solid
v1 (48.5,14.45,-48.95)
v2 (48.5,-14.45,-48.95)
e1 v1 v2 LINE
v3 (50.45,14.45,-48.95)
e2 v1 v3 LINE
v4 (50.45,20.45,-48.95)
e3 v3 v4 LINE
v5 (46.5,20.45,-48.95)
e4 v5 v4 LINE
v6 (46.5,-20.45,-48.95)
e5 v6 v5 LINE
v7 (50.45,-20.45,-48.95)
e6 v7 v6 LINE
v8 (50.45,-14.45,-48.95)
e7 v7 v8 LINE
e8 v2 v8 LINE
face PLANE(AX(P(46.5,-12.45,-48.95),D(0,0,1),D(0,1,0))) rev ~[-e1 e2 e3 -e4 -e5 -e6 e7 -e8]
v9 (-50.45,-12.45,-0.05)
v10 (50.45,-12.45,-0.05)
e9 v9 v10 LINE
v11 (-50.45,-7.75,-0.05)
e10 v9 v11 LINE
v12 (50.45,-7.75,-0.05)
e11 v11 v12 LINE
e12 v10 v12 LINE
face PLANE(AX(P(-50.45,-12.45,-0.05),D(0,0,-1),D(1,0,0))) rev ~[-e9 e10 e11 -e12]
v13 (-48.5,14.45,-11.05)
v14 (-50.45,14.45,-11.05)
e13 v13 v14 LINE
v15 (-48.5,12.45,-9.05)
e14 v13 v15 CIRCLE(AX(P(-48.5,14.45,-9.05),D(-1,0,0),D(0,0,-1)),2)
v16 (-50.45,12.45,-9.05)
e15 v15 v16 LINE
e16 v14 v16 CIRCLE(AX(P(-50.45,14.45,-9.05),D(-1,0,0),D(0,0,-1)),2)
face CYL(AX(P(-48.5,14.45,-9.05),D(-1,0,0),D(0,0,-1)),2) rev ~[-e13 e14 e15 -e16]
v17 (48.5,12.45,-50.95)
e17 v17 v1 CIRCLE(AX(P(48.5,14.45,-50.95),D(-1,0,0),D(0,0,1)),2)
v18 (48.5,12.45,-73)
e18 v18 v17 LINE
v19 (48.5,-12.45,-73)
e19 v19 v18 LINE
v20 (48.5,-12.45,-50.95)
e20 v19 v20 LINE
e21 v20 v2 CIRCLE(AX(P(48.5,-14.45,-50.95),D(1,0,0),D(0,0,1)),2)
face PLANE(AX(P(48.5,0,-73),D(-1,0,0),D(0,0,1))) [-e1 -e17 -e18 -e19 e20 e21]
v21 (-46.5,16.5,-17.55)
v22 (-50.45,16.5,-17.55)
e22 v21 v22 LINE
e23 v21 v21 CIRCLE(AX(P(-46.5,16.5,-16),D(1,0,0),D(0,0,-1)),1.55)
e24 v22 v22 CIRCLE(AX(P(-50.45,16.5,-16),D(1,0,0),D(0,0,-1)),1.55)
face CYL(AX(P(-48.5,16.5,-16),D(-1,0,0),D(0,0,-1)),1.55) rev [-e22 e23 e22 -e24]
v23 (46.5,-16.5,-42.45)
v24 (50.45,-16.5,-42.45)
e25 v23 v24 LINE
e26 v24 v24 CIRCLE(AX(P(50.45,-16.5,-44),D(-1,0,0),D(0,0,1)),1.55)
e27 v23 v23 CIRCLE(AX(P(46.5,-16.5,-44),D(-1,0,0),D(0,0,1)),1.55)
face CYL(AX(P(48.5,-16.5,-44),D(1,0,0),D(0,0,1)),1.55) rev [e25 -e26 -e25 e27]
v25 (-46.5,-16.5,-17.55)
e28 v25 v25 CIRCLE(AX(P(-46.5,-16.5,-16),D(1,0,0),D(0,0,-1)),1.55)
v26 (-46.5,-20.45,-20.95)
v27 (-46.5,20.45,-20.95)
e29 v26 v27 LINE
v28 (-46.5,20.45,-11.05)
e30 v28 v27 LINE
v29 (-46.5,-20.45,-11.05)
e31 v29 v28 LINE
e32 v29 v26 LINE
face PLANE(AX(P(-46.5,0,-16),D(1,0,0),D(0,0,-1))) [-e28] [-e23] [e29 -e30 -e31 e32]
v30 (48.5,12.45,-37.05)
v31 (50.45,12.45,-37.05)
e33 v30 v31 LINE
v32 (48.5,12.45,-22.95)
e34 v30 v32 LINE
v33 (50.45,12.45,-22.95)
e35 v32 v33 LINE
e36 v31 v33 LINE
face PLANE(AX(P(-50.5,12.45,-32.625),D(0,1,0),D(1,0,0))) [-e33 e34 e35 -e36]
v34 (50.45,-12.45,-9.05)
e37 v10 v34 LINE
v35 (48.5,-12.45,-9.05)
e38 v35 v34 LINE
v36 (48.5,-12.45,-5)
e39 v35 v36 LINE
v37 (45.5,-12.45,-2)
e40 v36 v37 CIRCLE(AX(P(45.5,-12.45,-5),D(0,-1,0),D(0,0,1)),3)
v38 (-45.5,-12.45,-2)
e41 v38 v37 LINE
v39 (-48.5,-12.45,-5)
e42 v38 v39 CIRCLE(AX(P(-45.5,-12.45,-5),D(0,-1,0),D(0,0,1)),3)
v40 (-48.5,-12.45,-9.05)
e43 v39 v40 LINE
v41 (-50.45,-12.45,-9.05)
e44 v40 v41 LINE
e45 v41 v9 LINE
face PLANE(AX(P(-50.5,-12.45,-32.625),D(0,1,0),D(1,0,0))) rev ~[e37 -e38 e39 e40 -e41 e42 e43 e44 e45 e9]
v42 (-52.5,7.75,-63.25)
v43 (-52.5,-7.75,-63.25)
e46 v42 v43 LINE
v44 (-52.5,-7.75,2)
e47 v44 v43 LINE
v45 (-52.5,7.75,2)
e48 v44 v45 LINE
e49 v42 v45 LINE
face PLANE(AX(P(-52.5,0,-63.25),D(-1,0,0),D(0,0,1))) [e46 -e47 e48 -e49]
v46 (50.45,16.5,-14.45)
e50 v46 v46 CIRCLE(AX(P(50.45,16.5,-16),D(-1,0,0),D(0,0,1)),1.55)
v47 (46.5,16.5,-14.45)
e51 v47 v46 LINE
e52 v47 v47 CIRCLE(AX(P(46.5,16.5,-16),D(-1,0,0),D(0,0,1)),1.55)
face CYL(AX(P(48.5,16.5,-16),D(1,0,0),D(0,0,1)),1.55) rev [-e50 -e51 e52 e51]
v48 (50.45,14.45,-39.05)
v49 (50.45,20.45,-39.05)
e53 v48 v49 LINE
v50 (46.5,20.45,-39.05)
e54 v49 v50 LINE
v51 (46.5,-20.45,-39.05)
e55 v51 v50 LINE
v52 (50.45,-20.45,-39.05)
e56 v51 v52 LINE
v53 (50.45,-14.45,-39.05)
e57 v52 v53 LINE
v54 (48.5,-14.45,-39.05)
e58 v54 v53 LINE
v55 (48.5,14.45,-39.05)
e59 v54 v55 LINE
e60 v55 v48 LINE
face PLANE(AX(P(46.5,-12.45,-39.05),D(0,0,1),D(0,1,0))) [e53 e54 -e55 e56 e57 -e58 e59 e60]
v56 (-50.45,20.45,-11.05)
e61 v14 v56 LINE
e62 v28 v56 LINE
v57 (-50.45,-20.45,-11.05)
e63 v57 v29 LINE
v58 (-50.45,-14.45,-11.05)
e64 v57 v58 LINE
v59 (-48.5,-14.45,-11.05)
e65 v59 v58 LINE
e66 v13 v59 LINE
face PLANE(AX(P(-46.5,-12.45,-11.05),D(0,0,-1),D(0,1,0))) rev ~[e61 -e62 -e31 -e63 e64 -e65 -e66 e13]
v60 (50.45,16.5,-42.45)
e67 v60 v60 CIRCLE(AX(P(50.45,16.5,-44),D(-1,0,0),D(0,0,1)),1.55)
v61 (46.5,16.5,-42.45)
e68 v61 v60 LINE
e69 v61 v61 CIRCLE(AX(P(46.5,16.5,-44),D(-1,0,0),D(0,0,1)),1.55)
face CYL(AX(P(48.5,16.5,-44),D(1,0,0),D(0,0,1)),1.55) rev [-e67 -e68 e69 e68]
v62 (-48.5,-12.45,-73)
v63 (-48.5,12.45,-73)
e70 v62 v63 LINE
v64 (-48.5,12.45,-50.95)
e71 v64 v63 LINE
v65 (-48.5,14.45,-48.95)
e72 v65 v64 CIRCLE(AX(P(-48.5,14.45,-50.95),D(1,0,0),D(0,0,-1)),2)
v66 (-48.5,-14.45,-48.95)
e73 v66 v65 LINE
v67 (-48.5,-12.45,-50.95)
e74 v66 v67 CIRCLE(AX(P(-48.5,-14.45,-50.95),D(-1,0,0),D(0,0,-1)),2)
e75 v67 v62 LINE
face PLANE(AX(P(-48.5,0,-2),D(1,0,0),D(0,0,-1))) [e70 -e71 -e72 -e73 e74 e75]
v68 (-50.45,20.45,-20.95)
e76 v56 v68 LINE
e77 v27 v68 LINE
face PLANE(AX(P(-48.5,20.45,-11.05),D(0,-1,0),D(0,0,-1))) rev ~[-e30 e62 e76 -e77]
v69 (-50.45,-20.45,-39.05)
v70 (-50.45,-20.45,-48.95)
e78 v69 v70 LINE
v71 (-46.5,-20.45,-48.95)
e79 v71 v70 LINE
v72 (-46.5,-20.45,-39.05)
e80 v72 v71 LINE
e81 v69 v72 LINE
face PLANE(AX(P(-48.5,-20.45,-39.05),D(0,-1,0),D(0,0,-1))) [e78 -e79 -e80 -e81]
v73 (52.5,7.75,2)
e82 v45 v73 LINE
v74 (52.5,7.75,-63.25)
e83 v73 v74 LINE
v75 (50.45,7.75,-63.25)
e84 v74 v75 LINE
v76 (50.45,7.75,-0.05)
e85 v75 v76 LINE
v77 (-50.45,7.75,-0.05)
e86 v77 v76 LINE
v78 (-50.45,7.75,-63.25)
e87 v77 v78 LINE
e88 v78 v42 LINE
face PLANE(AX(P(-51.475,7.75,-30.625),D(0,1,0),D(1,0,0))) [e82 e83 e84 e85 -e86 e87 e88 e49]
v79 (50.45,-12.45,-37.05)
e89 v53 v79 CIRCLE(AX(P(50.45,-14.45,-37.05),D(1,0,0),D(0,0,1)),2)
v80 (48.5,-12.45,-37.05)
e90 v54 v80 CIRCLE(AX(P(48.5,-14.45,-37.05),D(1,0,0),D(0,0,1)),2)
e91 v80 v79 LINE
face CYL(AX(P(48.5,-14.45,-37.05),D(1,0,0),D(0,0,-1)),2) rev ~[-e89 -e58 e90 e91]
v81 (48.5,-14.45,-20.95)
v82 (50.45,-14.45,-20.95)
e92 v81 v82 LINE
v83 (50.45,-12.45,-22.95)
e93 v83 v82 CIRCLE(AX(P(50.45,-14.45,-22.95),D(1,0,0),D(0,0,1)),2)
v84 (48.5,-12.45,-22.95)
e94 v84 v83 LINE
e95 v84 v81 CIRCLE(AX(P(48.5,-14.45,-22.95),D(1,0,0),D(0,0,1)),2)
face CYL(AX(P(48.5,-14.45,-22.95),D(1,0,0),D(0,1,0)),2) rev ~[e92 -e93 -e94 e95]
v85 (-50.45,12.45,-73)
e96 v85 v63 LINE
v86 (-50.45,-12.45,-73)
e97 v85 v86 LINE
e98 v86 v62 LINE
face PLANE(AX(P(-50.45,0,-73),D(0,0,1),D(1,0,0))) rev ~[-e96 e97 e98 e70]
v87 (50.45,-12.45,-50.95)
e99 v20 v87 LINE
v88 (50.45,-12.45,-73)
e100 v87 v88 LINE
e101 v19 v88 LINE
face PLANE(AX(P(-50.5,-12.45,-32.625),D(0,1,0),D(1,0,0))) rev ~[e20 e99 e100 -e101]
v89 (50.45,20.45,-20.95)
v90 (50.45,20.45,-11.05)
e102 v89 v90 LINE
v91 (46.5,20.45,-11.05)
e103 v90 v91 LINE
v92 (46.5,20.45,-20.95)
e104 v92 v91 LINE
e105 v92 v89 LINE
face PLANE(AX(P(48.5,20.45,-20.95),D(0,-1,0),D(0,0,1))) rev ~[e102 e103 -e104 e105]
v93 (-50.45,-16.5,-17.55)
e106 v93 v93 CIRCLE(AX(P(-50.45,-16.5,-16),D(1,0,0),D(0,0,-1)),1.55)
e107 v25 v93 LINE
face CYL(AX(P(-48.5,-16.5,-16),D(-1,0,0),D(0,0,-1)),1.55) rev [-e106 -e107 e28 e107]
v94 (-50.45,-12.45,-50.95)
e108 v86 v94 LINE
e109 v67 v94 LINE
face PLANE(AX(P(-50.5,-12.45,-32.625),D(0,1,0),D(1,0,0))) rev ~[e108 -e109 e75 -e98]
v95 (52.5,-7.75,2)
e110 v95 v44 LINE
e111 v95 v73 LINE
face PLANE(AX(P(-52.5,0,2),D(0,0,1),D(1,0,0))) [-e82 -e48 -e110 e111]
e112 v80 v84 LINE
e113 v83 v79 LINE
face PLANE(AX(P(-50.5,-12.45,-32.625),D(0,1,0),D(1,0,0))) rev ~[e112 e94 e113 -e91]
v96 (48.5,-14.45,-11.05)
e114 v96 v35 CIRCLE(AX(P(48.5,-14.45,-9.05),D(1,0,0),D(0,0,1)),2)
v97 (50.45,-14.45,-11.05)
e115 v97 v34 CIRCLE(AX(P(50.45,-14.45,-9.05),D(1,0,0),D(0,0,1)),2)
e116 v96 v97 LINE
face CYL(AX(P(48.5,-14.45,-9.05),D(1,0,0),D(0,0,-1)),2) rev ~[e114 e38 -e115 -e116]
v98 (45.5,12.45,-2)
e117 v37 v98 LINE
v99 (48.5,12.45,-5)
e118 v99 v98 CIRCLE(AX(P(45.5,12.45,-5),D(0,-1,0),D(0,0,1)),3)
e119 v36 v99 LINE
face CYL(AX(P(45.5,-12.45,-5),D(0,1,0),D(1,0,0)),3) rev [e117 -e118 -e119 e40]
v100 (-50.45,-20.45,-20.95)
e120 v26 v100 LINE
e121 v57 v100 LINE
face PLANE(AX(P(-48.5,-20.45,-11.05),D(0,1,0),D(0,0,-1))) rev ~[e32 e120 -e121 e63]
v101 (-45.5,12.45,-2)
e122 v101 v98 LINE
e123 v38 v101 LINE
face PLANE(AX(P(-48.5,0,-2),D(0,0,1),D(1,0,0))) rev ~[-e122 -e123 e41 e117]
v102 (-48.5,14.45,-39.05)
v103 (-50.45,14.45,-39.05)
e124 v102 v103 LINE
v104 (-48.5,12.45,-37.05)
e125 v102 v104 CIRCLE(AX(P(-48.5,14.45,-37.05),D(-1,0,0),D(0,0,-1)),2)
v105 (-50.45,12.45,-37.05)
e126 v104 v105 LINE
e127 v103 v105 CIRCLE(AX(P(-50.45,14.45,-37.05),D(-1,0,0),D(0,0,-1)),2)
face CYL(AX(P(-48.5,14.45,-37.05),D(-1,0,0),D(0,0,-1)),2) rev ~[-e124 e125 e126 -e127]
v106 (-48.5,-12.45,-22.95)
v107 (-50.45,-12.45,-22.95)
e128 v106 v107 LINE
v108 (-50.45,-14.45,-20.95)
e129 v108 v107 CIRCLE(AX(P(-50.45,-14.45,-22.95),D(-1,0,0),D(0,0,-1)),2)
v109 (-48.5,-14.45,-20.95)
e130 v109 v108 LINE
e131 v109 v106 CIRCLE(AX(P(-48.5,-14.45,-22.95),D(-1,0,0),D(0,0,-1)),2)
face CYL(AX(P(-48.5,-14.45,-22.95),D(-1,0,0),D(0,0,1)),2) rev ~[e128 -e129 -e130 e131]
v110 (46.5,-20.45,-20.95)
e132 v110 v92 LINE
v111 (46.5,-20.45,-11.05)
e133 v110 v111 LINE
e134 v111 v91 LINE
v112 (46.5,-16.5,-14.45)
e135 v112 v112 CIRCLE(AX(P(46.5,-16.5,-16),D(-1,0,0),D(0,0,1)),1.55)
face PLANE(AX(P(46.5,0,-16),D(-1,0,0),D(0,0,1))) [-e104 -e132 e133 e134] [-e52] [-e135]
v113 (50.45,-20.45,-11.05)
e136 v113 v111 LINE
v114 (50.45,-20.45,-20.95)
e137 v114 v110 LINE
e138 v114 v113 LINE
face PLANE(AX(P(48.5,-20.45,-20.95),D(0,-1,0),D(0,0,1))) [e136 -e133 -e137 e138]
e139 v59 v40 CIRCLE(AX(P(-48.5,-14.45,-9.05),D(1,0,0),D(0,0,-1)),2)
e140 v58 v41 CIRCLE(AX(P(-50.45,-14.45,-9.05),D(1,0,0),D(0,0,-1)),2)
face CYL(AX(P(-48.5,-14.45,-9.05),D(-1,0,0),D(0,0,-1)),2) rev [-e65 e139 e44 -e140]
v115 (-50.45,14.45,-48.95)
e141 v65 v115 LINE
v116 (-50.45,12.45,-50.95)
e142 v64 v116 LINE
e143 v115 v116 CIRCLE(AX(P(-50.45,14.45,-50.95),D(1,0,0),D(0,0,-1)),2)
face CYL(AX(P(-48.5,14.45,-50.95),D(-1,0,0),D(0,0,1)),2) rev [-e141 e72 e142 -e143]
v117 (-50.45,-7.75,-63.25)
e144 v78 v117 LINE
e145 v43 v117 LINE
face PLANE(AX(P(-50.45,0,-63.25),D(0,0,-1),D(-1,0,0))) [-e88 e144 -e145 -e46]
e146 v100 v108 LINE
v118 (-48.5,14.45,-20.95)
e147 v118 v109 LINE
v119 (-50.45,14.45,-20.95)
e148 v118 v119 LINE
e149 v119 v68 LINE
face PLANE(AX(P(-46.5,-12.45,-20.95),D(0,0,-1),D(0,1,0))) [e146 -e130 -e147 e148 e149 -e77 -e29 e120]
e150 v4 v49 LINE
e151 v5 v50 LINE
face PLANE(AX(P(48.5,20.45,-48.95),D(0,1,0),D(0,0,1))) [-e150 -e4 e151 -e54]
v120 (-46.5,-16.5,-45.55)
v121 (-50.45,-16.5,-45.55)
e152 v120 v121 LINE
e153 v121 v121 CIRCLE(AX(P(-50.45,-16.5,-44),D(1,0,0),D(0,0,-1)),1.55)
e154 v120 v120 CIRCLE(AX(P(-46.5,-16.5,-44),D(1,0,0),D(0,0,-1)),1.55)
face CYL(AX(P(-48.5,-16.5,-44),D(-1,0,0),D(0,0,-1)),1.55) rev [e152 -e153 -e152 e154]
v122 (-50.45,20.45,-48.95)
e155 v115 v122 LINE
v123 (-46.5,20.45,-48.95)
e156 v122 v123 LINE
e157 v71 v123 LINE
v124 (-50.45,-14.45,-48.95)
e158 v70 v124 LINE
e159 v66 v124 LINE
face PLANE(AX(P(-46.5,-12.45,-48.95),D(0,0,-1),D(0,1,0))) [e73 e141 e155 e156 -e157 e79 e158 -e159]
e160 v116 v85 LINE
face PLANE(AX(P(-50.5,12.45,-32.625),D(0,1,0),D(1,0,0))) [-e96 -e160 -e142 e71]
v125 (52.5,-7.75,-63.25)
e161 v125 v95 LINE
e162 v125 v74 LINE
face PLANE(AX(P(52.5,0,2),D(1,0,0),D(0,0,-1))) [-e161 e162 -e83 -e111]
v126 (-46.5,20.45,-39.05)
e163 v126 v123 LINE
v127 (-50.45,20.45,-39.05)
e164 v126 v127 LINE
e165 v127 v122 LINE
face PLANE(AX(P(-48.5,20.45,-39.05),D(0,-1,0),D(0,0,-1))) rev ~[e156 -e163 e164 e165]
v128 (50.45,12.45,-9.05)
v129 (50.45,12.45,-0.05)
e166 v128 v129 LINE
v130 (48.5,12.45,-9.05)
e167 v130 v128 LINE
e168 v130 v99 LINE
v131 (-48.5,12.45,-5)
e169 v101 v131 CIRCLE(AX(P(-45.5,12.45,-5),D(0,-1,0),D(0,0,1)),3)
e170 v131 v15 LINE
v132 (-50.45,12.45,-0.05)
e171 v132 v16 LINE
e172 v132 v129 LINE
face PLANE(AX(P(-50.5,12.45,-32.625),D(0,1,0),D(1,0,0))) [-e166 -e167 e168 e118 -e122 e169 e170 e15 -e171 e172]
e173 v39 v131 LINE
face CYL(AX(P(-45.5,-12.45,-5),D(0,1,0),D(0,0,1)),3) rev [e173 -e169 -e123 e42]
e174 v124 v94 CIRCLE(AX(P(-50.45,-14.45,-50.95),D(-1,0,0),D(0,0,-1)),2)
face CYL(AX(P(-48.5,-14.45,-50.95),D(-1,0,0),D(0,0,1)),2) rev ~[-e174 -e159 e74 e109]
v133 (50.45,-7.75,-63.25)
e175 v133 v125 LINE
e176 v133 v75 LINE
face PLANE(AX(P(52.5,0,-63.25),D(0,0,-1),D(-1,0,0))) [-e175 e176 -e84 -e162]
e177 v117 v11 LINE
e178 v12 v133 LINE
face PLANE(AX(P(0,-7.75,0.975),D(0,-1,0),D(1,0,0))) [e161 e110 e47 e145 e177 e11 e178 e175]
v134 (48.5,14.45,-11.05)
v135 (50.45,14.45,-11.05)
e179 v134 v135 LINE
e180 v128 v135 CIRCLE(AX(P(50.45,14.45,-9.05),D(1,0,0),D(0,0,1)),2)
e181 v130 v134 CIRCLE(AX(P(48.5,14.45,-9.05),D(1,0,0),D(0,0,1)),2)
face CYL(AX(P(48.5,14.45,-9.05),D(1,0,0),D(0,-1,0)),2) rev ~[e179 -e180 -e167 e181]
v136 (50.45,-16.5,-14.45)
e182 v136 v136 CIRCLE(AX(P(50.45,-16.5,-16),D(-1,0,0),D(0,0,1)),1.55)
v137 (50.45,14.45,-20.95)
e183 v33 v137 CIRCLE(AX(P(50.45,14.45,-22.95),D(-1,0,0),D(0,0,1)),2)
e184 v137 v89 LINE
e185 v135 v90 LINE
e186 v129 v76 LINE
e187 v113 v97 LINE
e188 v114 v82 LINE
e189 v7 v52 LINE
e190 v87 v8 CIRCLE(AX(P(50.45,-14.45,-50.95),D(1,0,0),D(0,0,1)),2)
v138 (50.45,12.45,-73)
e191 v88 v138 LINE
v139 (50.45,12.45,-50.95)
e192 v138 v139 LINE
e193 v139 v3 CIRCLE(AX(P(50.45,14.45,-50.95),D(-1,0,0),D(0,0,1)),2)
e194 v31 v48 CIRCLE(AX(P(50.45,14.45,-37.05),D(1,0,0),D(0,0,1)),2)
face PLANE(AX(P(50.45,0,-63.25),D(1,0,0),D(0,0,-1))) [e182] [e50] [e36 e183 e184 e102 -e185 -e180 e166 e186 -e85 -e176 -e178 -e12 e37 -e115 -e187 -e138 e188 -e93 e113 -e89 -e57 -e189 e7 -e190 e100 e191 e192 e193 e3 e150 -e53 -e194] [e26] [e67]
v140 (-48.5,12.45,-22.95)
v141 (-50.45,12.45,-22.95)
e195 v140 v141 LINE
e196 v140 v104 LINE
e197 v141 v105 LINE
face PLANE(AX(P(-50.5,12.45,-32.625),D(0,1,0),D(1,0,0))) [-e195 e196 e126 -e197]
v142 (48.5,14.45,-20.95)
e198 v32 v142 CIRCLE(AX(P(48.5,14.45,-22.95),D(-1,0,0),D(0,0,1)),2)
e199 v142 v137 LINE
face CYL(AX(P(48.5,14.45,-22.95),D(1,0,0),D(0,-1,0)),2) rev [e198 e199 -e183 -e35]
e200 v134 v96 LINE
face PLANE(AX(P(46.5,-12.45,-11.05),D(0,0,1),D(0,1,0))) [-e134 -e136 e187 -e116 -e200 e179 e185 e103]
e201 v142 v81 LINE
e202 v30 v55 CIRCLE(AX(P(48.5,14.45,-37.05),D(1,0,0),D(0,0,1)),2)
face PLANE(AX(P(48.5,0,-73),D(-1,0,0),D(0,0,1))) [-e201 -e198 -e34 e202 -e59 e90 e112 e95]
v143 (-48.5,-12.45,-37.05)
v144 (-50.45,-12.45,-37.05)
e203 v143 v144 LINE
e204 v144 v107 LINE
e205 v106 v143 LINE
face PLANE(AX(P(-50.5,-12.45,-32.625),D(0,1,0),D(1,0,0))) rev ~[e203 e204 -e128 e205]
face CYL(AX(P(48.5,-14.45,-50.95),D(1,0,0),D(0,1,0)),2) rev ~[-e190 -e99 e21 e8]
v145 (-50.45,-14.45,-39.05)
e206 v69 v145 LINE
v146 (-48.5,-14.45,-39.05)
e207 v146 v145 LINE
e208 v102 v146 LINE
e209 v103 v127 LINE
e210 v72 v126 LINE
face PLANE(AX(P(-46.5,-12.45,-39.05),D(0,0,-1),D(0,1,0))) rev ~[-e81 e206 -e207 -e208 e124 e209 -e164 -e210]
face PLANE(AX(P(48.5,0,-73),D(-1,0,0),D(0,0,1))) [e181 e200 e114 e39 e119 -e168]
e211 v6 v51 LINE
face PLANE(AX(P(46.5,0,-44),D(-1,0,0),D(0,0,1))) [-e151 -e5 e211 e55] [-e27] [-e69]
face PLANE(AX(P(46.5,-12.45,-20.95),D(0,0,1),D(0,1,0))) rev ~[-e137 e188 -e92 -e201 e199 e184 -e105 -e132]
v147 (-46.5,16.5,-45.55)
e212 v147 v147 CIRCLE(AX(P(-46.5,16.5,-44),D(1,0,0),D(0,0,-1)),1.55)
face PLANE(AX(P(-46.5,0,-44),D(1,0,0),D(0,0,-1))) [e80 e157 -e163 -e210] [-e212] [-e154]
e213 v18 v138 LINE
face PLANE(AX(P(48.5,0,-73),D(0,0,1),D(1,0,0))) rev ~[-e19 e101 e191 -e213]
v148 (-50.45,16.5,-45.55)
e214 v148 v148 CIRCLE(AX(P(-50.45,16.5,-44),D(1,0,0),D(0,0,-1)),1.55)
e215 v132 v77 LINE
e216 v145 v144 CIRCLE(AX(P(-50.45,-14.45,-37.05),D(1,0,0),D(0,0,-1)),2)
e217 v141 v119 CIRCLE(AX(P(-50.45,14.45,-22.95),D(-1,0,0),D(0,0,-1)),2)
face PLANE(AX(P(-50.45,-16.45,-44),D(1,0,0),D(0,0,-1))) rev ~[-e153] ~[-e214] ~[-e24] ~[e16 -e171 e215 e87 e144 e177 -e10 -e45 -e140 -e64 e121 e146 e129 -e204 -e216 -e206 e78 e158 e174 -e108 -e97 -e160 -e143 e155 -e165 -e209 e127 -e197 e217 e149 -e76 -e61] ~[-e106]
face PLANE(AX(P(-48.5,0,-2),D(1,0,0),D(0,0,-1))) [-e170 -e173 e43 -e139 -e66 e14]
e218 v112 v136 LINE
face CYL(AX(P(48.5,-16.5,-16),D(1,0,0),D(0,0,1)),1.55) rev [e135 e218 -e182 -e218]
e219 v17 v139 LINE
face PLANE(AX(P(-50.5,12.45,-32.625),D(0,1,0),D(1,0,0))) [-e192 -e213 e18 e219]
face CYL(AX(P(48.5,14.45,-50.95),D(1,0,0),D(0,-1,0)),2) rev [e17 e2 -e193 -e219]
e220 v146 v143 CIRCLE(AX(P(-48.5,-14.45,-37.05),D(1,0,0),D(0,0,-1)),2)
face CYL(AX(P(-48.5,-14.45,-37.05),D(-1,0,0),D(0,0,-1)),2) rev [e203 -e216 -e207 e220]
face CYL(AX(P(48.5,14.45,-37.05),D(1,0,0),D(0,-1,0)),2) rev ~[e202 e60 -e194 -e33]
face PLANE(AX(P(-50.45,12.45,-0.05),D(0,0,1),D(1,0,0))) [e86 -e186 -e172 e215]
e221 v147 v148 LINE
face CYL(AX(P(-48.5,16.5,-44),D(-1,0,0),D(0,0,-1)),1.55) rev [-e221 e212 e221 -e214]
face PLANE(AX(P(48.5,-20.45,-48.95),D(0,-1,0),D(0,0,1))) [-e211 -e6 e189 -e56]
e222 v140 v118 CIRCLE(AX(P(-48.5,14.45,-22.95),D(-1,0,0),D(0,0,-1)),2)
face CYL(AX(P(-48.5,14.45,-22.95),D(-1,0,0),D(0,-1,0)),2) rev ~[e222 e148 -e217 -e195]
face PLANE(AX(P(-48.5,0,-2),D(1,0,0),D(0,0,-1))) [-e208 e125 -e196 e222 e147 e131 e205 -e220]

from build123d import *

# Parameters (mm, degrees)
SKETCH1_W                = 1.95
SKETCH1_H                = 9.75
SKETCH1_W_2              = 105
SKETCH1_H_2              = 4
BOSS_EXTRUDE1_DEPTH      = 12.45
SKETCH2_W                = 9.9
SKETCH2_H                = 8
SKETCH2_R                = 1.55
BOSS_EXTRUDE2_DEPTH      = 2
BOSS_EXTRUDE2_DEPTH_BACK = 1.95
BOSS_EXTRUDE3_REACH      = 8
SKETCH3_W                = 9.9
SKETCH3_H                = 24.9
SKETCH4_W                = 9.9
SKETCH4_H                = 8
SKETCH4_R                = 1.55
BOSS_EXTRUDE4_DEPTH      = 2
BOSS_EXTRUDE4_DEPTH_BACK = 1.95
BOSS_EXTRUDE5_REACH      = 8
SKETCH5_W                = 9.9
SKETCH5_H                = 24.9
SKETCH6_W                = 100.9
SKETCH6_H                = 2.05
CUT_EXTRUDE1_DEPTH       = 4.7
SKETCH7_W                = 100.9
SKETCH7_H                = 2.05
CUT_EXTRUDE2_DEPTH       = 4.7
FILLET1_R                = 2
FILLET2_R                = 3


with BuildPart() as part:
    # Sketch1 → Boss-Extrude1 (new body, symmetric)
    with BuildSketch(Plane(origin=(0, 0, 0), x_dir=(1, 0, 0), z_dir=(0, 1, 0))):
        Polygon((-52.5, 63.25), (-52.5, 2), (-48.5, 2), (-48.5, 63.25), (-50.45, 63.25), align=None)
        with Locations((-49.475, 68.125)):
            Rectangle(SKETCH1_W, SKETCH1_H)
        Rectangle(SKETCH1_W_2, SKETCH1_H_2)
        Polygon((48.5, 63.25), (48.5, 2), (52.5, 2), (52.5, 63.25), (50.45, 63.25), align=None)
        with Locations((49.475, 68.125)):
            Rectangle(SKETCH1_W, SKETCH1_H)
    extrude(amount=BOSS_EXTRUDE1_DEPTH, both=True)

    # Sketch2 → Boss-Extrude2 (add, two sides)
    with BuildSketch(Plane.ZY.offset(-48.5)) as boss_extrude2_sk:
        with Locations((-16, -16.45)):
            Rectangle(SKETCH2_W, SKETCH2_H)
        with Locations((-16, -16.5)):
            Circle(SKETCH2_R, mode=Mode.SUBTRACT)
        with Locations((-44, -16.45)):
            Rectangle(SKETCH2_W, SKETCH2_H)
        with Locations((-44, -16.5)):
            Circle(SKETCH2_R, mode=Mode.SUBTRACT)
        with Locations((-16, 16.45)):
            Rectangle(SKETCH2_W, SKETCH2_H)
        with Locations((-16, 16.5)):
            Circle(SKETCH2_R, mode=Mode.SUBTRACT)
        with Locations((-44, 16.45)):
            Rectangle(SKETCH2_W, SKETCH2_H)
        with Locations((-44, 16.5)):
            Circle(SKETCH2_R, mode=Mode.SUBTRACT)
    extrude(amount=BOSS_EXTRUDE2_DEPTH)
    extrude(boss_extrude2_sk.sketch, amount=-BOSS_EXTRUDE2_DEPTH_BACK)

    # Sketch3 → Boss-Extrude3 (add, up to next)
    with BuildSketch(Plane.ZY.offset(-46.5), mode=Mode.PRIVATE) as boss_extrude3_sk1:
        with Locations((-44, 0)):
            Rectangle(SKETCH3_W, SKETCH3_H)
    boss_extrude3_tool1 = extrude(boss_extrude3_sk1.sketch, amount=-BOSS_EXTRUDE3_REACH, mode=Mode.PRIVATE) - part.part
    add(boss_extrude3_tool1.solids().sort_by_distance((46.5, 0, -44))[0])
    # Sketch3 → Boss-Extrude3 (add, up to next)
    with BuildSketch(Plane.ZY.offset(-46.5), mode=Mode.PRIVATE) as boss_extrude3_sk2:
        with Locations((-16, 0)):
            Rectangle(SKETCH3_W, SKETCH3_H)
    boss_extrude3_tool2 = extrude(boss_extrude3_sk2.sketch, amount=-BOSS_EXTRUDE3_REACH, mode=Mode.PRIVATE) - part.part
    add(boss_extrude3_tool2.solids().sort_by_distance((46.5, 0, -16))[0])

    # Sketch4 → Boss-Extrude4 (add, two sides)
    with BuildSketch(Plane(origin=(-48.5, 0, 0), x_dir=(0, 0, -1), z_dir=(1, 0, 0))) as boss_extrude4_sk:
        with Locations((16, 16.45)):
            Rectangle(SKETCH4_W, SKETCH4_H)
        with Locations((16, 16.5)):
            Circle(SKETCH4_R, mode=Mode.SUBTRACT)
        with Locations((44, 16.45)):
            Rectangle(SKETCH4_W, SKETCH4_H)
        with Locations((44, 16.5)):
            Circle(SKETCH4_R, mode=Mode.SUBTRACT)
        with Locations((44, -16.45)):
            Rectangle(SKETCH4_W, SKETCH4_H)
        with Locations((44, -16.5)):
            Circle(SKETCH4_R, mode=Mode.SUBTRACT)
        with Locations((16, -16.45)):
            Rectangle(SKETCH4_W, SKETCH4_H)
        with Locations((16, -16.5)):
            Circle(SKETCH4_R, mode=Mode.SUBTRACT)
    extrude(amount=BOSS_EXTRUDE4_DEPTH)
    extrude(boss_extrude4_sk.sketch, amount=-BOSS_EXTRUDE4_DEPTH_BACK)

    # Sketch5 → Boss-Extrude5 (add, up to next)
    with BuildSketch(Plane(origin=(-46.5, 0, 0), x_dir=(0, 0, -1), z_dir=(1, 0, 0)), mode=Mode.PRIVATE) as boss_extrude5_sk1:
        with Locations((16, 0)):
            Rectangle(SKETCH5_W, SKETCH5_H)
    boss_extrude5_tool1 = extrude(boss_extrude5_sk1.sketch, amount=-BOSS_EXTRUDE5_REACH, mode=Mode.PRIVATE) - part.part
    add(boss_extrude5_tool1.solids().sort_by_distance((-46.5, 0, -16))[0])
    # Sketch5 → Boss-Extrude5 (add, up to next)
    with BuildSketch(Plane(origin=(-46.5, 0, 0), x_dir=(0, 0, -1), z_dir=(1, 0, 0)), mode=Mode.PRIVATE) as boss_extrude5_sk2:
        with Locations((44, 0)):
            Rectangle(SKETCH5_W, SKETCH5_H)
    boss_extrude5_tool2 = extrude(boss_extrude5_sk2.sketch, amount=-BOSS_EXTRUDE5_REACH, mode=Mode.PRIVATE) - part.part
    add(boss_extrude5_tool2.solids().sort_by_distance((-46.5, 0, -44))[0])

    # Sketch6 → Cut-Extrude1 (cut)
    with BuildSketch(Plane.XZ.offset(12.45)):
        with Locations((0, 0.975)):
            Rectangle(SKETCH6_W, SKETCH6_H)
        Polygon((50.45, 2), (50.45, -0.05), (50.45, -63.25), (52.5, -63.25), (52.5, 2), align=None)
        Polygon((-52.5, -63.25), (-50.45, -63.25), (-50.45, -0.05), (-50.45, 2), (-52.5, 2), align=None)
    extrude(amount=-CUT_EXTRUDE1_DEPTH, mode=Mode.SUBTRACT)

    # Sketch7 → Cut-Extrude2 (cut)
    with BuildSketch(Plane(origin=(0, 12.45, 0), x_dir=(1, 0, 0), z_dir=(0, 1, 0))):
        Polygon((-50.45, 48.95), (-50.45, 63.25), (-52.5, 63.25), (-52.5, -2), (-50.45, -2), (-50.45, 0.05), (-50.45, 11.05), (-50.45, 20.95), (-50.45, 39.05), align=None)
        with Locations((0, -0.975)):
            Rectangle(SKETCH7_W, SKETCH7_H)
        Polygon((50.45, 0.05), (50.45, -2), (52.5, -2), (52.5, 63.25), (50.45, 63.25), (50.45, 48.95), (50.45, 39.05), (50.45, 20.95), (50.45, 11.05), align=None)
    extrude(amount=-CUT_EXTRUDE2_DEPTH, mode=Mode.SUBTRACT)

    # Fillet1
    fillet1_edges = [part.edges().sort_by_distance(p)[0] for p in [
        (-49.475, 12.45, -11.05),
        (-49.475, 12.45, -20.95),
        (-49.475, 12.45, -39.05),
        (-49.475, 12.45, -48.95),
        (-49.475, -12.45, -39.05),
        (-49.475, -12.45, -48.95),
        (-49.475, -12.45, -11.05),
        (-49.475, -12.45, -20.95),
        (49.475, -12.45, -20.95),
        (49.475, -12.45, -11.05),
        (49.475, -12.45, -48.95),
        (49.475, -12.45, -39.05),
        (49.475, 12.45, -11.05),
        (49.475, 12.45, -20.95),
        (49.475, 12.45, -48.95),
        (49.475, 12.45, -39.05),
    ]]
    fillet(fillet1_edges, radius=FILLET1_R)

    # Fillet2
    fillet2_edges = [part.edges().sort_by_distance(p)[0] for p in [
        (-48.5, 0, -2),
        (48.5, 0, -2),
    ]]
    fillet(fillet2_edges, radius=FILLET2_R)


solid = part.part
